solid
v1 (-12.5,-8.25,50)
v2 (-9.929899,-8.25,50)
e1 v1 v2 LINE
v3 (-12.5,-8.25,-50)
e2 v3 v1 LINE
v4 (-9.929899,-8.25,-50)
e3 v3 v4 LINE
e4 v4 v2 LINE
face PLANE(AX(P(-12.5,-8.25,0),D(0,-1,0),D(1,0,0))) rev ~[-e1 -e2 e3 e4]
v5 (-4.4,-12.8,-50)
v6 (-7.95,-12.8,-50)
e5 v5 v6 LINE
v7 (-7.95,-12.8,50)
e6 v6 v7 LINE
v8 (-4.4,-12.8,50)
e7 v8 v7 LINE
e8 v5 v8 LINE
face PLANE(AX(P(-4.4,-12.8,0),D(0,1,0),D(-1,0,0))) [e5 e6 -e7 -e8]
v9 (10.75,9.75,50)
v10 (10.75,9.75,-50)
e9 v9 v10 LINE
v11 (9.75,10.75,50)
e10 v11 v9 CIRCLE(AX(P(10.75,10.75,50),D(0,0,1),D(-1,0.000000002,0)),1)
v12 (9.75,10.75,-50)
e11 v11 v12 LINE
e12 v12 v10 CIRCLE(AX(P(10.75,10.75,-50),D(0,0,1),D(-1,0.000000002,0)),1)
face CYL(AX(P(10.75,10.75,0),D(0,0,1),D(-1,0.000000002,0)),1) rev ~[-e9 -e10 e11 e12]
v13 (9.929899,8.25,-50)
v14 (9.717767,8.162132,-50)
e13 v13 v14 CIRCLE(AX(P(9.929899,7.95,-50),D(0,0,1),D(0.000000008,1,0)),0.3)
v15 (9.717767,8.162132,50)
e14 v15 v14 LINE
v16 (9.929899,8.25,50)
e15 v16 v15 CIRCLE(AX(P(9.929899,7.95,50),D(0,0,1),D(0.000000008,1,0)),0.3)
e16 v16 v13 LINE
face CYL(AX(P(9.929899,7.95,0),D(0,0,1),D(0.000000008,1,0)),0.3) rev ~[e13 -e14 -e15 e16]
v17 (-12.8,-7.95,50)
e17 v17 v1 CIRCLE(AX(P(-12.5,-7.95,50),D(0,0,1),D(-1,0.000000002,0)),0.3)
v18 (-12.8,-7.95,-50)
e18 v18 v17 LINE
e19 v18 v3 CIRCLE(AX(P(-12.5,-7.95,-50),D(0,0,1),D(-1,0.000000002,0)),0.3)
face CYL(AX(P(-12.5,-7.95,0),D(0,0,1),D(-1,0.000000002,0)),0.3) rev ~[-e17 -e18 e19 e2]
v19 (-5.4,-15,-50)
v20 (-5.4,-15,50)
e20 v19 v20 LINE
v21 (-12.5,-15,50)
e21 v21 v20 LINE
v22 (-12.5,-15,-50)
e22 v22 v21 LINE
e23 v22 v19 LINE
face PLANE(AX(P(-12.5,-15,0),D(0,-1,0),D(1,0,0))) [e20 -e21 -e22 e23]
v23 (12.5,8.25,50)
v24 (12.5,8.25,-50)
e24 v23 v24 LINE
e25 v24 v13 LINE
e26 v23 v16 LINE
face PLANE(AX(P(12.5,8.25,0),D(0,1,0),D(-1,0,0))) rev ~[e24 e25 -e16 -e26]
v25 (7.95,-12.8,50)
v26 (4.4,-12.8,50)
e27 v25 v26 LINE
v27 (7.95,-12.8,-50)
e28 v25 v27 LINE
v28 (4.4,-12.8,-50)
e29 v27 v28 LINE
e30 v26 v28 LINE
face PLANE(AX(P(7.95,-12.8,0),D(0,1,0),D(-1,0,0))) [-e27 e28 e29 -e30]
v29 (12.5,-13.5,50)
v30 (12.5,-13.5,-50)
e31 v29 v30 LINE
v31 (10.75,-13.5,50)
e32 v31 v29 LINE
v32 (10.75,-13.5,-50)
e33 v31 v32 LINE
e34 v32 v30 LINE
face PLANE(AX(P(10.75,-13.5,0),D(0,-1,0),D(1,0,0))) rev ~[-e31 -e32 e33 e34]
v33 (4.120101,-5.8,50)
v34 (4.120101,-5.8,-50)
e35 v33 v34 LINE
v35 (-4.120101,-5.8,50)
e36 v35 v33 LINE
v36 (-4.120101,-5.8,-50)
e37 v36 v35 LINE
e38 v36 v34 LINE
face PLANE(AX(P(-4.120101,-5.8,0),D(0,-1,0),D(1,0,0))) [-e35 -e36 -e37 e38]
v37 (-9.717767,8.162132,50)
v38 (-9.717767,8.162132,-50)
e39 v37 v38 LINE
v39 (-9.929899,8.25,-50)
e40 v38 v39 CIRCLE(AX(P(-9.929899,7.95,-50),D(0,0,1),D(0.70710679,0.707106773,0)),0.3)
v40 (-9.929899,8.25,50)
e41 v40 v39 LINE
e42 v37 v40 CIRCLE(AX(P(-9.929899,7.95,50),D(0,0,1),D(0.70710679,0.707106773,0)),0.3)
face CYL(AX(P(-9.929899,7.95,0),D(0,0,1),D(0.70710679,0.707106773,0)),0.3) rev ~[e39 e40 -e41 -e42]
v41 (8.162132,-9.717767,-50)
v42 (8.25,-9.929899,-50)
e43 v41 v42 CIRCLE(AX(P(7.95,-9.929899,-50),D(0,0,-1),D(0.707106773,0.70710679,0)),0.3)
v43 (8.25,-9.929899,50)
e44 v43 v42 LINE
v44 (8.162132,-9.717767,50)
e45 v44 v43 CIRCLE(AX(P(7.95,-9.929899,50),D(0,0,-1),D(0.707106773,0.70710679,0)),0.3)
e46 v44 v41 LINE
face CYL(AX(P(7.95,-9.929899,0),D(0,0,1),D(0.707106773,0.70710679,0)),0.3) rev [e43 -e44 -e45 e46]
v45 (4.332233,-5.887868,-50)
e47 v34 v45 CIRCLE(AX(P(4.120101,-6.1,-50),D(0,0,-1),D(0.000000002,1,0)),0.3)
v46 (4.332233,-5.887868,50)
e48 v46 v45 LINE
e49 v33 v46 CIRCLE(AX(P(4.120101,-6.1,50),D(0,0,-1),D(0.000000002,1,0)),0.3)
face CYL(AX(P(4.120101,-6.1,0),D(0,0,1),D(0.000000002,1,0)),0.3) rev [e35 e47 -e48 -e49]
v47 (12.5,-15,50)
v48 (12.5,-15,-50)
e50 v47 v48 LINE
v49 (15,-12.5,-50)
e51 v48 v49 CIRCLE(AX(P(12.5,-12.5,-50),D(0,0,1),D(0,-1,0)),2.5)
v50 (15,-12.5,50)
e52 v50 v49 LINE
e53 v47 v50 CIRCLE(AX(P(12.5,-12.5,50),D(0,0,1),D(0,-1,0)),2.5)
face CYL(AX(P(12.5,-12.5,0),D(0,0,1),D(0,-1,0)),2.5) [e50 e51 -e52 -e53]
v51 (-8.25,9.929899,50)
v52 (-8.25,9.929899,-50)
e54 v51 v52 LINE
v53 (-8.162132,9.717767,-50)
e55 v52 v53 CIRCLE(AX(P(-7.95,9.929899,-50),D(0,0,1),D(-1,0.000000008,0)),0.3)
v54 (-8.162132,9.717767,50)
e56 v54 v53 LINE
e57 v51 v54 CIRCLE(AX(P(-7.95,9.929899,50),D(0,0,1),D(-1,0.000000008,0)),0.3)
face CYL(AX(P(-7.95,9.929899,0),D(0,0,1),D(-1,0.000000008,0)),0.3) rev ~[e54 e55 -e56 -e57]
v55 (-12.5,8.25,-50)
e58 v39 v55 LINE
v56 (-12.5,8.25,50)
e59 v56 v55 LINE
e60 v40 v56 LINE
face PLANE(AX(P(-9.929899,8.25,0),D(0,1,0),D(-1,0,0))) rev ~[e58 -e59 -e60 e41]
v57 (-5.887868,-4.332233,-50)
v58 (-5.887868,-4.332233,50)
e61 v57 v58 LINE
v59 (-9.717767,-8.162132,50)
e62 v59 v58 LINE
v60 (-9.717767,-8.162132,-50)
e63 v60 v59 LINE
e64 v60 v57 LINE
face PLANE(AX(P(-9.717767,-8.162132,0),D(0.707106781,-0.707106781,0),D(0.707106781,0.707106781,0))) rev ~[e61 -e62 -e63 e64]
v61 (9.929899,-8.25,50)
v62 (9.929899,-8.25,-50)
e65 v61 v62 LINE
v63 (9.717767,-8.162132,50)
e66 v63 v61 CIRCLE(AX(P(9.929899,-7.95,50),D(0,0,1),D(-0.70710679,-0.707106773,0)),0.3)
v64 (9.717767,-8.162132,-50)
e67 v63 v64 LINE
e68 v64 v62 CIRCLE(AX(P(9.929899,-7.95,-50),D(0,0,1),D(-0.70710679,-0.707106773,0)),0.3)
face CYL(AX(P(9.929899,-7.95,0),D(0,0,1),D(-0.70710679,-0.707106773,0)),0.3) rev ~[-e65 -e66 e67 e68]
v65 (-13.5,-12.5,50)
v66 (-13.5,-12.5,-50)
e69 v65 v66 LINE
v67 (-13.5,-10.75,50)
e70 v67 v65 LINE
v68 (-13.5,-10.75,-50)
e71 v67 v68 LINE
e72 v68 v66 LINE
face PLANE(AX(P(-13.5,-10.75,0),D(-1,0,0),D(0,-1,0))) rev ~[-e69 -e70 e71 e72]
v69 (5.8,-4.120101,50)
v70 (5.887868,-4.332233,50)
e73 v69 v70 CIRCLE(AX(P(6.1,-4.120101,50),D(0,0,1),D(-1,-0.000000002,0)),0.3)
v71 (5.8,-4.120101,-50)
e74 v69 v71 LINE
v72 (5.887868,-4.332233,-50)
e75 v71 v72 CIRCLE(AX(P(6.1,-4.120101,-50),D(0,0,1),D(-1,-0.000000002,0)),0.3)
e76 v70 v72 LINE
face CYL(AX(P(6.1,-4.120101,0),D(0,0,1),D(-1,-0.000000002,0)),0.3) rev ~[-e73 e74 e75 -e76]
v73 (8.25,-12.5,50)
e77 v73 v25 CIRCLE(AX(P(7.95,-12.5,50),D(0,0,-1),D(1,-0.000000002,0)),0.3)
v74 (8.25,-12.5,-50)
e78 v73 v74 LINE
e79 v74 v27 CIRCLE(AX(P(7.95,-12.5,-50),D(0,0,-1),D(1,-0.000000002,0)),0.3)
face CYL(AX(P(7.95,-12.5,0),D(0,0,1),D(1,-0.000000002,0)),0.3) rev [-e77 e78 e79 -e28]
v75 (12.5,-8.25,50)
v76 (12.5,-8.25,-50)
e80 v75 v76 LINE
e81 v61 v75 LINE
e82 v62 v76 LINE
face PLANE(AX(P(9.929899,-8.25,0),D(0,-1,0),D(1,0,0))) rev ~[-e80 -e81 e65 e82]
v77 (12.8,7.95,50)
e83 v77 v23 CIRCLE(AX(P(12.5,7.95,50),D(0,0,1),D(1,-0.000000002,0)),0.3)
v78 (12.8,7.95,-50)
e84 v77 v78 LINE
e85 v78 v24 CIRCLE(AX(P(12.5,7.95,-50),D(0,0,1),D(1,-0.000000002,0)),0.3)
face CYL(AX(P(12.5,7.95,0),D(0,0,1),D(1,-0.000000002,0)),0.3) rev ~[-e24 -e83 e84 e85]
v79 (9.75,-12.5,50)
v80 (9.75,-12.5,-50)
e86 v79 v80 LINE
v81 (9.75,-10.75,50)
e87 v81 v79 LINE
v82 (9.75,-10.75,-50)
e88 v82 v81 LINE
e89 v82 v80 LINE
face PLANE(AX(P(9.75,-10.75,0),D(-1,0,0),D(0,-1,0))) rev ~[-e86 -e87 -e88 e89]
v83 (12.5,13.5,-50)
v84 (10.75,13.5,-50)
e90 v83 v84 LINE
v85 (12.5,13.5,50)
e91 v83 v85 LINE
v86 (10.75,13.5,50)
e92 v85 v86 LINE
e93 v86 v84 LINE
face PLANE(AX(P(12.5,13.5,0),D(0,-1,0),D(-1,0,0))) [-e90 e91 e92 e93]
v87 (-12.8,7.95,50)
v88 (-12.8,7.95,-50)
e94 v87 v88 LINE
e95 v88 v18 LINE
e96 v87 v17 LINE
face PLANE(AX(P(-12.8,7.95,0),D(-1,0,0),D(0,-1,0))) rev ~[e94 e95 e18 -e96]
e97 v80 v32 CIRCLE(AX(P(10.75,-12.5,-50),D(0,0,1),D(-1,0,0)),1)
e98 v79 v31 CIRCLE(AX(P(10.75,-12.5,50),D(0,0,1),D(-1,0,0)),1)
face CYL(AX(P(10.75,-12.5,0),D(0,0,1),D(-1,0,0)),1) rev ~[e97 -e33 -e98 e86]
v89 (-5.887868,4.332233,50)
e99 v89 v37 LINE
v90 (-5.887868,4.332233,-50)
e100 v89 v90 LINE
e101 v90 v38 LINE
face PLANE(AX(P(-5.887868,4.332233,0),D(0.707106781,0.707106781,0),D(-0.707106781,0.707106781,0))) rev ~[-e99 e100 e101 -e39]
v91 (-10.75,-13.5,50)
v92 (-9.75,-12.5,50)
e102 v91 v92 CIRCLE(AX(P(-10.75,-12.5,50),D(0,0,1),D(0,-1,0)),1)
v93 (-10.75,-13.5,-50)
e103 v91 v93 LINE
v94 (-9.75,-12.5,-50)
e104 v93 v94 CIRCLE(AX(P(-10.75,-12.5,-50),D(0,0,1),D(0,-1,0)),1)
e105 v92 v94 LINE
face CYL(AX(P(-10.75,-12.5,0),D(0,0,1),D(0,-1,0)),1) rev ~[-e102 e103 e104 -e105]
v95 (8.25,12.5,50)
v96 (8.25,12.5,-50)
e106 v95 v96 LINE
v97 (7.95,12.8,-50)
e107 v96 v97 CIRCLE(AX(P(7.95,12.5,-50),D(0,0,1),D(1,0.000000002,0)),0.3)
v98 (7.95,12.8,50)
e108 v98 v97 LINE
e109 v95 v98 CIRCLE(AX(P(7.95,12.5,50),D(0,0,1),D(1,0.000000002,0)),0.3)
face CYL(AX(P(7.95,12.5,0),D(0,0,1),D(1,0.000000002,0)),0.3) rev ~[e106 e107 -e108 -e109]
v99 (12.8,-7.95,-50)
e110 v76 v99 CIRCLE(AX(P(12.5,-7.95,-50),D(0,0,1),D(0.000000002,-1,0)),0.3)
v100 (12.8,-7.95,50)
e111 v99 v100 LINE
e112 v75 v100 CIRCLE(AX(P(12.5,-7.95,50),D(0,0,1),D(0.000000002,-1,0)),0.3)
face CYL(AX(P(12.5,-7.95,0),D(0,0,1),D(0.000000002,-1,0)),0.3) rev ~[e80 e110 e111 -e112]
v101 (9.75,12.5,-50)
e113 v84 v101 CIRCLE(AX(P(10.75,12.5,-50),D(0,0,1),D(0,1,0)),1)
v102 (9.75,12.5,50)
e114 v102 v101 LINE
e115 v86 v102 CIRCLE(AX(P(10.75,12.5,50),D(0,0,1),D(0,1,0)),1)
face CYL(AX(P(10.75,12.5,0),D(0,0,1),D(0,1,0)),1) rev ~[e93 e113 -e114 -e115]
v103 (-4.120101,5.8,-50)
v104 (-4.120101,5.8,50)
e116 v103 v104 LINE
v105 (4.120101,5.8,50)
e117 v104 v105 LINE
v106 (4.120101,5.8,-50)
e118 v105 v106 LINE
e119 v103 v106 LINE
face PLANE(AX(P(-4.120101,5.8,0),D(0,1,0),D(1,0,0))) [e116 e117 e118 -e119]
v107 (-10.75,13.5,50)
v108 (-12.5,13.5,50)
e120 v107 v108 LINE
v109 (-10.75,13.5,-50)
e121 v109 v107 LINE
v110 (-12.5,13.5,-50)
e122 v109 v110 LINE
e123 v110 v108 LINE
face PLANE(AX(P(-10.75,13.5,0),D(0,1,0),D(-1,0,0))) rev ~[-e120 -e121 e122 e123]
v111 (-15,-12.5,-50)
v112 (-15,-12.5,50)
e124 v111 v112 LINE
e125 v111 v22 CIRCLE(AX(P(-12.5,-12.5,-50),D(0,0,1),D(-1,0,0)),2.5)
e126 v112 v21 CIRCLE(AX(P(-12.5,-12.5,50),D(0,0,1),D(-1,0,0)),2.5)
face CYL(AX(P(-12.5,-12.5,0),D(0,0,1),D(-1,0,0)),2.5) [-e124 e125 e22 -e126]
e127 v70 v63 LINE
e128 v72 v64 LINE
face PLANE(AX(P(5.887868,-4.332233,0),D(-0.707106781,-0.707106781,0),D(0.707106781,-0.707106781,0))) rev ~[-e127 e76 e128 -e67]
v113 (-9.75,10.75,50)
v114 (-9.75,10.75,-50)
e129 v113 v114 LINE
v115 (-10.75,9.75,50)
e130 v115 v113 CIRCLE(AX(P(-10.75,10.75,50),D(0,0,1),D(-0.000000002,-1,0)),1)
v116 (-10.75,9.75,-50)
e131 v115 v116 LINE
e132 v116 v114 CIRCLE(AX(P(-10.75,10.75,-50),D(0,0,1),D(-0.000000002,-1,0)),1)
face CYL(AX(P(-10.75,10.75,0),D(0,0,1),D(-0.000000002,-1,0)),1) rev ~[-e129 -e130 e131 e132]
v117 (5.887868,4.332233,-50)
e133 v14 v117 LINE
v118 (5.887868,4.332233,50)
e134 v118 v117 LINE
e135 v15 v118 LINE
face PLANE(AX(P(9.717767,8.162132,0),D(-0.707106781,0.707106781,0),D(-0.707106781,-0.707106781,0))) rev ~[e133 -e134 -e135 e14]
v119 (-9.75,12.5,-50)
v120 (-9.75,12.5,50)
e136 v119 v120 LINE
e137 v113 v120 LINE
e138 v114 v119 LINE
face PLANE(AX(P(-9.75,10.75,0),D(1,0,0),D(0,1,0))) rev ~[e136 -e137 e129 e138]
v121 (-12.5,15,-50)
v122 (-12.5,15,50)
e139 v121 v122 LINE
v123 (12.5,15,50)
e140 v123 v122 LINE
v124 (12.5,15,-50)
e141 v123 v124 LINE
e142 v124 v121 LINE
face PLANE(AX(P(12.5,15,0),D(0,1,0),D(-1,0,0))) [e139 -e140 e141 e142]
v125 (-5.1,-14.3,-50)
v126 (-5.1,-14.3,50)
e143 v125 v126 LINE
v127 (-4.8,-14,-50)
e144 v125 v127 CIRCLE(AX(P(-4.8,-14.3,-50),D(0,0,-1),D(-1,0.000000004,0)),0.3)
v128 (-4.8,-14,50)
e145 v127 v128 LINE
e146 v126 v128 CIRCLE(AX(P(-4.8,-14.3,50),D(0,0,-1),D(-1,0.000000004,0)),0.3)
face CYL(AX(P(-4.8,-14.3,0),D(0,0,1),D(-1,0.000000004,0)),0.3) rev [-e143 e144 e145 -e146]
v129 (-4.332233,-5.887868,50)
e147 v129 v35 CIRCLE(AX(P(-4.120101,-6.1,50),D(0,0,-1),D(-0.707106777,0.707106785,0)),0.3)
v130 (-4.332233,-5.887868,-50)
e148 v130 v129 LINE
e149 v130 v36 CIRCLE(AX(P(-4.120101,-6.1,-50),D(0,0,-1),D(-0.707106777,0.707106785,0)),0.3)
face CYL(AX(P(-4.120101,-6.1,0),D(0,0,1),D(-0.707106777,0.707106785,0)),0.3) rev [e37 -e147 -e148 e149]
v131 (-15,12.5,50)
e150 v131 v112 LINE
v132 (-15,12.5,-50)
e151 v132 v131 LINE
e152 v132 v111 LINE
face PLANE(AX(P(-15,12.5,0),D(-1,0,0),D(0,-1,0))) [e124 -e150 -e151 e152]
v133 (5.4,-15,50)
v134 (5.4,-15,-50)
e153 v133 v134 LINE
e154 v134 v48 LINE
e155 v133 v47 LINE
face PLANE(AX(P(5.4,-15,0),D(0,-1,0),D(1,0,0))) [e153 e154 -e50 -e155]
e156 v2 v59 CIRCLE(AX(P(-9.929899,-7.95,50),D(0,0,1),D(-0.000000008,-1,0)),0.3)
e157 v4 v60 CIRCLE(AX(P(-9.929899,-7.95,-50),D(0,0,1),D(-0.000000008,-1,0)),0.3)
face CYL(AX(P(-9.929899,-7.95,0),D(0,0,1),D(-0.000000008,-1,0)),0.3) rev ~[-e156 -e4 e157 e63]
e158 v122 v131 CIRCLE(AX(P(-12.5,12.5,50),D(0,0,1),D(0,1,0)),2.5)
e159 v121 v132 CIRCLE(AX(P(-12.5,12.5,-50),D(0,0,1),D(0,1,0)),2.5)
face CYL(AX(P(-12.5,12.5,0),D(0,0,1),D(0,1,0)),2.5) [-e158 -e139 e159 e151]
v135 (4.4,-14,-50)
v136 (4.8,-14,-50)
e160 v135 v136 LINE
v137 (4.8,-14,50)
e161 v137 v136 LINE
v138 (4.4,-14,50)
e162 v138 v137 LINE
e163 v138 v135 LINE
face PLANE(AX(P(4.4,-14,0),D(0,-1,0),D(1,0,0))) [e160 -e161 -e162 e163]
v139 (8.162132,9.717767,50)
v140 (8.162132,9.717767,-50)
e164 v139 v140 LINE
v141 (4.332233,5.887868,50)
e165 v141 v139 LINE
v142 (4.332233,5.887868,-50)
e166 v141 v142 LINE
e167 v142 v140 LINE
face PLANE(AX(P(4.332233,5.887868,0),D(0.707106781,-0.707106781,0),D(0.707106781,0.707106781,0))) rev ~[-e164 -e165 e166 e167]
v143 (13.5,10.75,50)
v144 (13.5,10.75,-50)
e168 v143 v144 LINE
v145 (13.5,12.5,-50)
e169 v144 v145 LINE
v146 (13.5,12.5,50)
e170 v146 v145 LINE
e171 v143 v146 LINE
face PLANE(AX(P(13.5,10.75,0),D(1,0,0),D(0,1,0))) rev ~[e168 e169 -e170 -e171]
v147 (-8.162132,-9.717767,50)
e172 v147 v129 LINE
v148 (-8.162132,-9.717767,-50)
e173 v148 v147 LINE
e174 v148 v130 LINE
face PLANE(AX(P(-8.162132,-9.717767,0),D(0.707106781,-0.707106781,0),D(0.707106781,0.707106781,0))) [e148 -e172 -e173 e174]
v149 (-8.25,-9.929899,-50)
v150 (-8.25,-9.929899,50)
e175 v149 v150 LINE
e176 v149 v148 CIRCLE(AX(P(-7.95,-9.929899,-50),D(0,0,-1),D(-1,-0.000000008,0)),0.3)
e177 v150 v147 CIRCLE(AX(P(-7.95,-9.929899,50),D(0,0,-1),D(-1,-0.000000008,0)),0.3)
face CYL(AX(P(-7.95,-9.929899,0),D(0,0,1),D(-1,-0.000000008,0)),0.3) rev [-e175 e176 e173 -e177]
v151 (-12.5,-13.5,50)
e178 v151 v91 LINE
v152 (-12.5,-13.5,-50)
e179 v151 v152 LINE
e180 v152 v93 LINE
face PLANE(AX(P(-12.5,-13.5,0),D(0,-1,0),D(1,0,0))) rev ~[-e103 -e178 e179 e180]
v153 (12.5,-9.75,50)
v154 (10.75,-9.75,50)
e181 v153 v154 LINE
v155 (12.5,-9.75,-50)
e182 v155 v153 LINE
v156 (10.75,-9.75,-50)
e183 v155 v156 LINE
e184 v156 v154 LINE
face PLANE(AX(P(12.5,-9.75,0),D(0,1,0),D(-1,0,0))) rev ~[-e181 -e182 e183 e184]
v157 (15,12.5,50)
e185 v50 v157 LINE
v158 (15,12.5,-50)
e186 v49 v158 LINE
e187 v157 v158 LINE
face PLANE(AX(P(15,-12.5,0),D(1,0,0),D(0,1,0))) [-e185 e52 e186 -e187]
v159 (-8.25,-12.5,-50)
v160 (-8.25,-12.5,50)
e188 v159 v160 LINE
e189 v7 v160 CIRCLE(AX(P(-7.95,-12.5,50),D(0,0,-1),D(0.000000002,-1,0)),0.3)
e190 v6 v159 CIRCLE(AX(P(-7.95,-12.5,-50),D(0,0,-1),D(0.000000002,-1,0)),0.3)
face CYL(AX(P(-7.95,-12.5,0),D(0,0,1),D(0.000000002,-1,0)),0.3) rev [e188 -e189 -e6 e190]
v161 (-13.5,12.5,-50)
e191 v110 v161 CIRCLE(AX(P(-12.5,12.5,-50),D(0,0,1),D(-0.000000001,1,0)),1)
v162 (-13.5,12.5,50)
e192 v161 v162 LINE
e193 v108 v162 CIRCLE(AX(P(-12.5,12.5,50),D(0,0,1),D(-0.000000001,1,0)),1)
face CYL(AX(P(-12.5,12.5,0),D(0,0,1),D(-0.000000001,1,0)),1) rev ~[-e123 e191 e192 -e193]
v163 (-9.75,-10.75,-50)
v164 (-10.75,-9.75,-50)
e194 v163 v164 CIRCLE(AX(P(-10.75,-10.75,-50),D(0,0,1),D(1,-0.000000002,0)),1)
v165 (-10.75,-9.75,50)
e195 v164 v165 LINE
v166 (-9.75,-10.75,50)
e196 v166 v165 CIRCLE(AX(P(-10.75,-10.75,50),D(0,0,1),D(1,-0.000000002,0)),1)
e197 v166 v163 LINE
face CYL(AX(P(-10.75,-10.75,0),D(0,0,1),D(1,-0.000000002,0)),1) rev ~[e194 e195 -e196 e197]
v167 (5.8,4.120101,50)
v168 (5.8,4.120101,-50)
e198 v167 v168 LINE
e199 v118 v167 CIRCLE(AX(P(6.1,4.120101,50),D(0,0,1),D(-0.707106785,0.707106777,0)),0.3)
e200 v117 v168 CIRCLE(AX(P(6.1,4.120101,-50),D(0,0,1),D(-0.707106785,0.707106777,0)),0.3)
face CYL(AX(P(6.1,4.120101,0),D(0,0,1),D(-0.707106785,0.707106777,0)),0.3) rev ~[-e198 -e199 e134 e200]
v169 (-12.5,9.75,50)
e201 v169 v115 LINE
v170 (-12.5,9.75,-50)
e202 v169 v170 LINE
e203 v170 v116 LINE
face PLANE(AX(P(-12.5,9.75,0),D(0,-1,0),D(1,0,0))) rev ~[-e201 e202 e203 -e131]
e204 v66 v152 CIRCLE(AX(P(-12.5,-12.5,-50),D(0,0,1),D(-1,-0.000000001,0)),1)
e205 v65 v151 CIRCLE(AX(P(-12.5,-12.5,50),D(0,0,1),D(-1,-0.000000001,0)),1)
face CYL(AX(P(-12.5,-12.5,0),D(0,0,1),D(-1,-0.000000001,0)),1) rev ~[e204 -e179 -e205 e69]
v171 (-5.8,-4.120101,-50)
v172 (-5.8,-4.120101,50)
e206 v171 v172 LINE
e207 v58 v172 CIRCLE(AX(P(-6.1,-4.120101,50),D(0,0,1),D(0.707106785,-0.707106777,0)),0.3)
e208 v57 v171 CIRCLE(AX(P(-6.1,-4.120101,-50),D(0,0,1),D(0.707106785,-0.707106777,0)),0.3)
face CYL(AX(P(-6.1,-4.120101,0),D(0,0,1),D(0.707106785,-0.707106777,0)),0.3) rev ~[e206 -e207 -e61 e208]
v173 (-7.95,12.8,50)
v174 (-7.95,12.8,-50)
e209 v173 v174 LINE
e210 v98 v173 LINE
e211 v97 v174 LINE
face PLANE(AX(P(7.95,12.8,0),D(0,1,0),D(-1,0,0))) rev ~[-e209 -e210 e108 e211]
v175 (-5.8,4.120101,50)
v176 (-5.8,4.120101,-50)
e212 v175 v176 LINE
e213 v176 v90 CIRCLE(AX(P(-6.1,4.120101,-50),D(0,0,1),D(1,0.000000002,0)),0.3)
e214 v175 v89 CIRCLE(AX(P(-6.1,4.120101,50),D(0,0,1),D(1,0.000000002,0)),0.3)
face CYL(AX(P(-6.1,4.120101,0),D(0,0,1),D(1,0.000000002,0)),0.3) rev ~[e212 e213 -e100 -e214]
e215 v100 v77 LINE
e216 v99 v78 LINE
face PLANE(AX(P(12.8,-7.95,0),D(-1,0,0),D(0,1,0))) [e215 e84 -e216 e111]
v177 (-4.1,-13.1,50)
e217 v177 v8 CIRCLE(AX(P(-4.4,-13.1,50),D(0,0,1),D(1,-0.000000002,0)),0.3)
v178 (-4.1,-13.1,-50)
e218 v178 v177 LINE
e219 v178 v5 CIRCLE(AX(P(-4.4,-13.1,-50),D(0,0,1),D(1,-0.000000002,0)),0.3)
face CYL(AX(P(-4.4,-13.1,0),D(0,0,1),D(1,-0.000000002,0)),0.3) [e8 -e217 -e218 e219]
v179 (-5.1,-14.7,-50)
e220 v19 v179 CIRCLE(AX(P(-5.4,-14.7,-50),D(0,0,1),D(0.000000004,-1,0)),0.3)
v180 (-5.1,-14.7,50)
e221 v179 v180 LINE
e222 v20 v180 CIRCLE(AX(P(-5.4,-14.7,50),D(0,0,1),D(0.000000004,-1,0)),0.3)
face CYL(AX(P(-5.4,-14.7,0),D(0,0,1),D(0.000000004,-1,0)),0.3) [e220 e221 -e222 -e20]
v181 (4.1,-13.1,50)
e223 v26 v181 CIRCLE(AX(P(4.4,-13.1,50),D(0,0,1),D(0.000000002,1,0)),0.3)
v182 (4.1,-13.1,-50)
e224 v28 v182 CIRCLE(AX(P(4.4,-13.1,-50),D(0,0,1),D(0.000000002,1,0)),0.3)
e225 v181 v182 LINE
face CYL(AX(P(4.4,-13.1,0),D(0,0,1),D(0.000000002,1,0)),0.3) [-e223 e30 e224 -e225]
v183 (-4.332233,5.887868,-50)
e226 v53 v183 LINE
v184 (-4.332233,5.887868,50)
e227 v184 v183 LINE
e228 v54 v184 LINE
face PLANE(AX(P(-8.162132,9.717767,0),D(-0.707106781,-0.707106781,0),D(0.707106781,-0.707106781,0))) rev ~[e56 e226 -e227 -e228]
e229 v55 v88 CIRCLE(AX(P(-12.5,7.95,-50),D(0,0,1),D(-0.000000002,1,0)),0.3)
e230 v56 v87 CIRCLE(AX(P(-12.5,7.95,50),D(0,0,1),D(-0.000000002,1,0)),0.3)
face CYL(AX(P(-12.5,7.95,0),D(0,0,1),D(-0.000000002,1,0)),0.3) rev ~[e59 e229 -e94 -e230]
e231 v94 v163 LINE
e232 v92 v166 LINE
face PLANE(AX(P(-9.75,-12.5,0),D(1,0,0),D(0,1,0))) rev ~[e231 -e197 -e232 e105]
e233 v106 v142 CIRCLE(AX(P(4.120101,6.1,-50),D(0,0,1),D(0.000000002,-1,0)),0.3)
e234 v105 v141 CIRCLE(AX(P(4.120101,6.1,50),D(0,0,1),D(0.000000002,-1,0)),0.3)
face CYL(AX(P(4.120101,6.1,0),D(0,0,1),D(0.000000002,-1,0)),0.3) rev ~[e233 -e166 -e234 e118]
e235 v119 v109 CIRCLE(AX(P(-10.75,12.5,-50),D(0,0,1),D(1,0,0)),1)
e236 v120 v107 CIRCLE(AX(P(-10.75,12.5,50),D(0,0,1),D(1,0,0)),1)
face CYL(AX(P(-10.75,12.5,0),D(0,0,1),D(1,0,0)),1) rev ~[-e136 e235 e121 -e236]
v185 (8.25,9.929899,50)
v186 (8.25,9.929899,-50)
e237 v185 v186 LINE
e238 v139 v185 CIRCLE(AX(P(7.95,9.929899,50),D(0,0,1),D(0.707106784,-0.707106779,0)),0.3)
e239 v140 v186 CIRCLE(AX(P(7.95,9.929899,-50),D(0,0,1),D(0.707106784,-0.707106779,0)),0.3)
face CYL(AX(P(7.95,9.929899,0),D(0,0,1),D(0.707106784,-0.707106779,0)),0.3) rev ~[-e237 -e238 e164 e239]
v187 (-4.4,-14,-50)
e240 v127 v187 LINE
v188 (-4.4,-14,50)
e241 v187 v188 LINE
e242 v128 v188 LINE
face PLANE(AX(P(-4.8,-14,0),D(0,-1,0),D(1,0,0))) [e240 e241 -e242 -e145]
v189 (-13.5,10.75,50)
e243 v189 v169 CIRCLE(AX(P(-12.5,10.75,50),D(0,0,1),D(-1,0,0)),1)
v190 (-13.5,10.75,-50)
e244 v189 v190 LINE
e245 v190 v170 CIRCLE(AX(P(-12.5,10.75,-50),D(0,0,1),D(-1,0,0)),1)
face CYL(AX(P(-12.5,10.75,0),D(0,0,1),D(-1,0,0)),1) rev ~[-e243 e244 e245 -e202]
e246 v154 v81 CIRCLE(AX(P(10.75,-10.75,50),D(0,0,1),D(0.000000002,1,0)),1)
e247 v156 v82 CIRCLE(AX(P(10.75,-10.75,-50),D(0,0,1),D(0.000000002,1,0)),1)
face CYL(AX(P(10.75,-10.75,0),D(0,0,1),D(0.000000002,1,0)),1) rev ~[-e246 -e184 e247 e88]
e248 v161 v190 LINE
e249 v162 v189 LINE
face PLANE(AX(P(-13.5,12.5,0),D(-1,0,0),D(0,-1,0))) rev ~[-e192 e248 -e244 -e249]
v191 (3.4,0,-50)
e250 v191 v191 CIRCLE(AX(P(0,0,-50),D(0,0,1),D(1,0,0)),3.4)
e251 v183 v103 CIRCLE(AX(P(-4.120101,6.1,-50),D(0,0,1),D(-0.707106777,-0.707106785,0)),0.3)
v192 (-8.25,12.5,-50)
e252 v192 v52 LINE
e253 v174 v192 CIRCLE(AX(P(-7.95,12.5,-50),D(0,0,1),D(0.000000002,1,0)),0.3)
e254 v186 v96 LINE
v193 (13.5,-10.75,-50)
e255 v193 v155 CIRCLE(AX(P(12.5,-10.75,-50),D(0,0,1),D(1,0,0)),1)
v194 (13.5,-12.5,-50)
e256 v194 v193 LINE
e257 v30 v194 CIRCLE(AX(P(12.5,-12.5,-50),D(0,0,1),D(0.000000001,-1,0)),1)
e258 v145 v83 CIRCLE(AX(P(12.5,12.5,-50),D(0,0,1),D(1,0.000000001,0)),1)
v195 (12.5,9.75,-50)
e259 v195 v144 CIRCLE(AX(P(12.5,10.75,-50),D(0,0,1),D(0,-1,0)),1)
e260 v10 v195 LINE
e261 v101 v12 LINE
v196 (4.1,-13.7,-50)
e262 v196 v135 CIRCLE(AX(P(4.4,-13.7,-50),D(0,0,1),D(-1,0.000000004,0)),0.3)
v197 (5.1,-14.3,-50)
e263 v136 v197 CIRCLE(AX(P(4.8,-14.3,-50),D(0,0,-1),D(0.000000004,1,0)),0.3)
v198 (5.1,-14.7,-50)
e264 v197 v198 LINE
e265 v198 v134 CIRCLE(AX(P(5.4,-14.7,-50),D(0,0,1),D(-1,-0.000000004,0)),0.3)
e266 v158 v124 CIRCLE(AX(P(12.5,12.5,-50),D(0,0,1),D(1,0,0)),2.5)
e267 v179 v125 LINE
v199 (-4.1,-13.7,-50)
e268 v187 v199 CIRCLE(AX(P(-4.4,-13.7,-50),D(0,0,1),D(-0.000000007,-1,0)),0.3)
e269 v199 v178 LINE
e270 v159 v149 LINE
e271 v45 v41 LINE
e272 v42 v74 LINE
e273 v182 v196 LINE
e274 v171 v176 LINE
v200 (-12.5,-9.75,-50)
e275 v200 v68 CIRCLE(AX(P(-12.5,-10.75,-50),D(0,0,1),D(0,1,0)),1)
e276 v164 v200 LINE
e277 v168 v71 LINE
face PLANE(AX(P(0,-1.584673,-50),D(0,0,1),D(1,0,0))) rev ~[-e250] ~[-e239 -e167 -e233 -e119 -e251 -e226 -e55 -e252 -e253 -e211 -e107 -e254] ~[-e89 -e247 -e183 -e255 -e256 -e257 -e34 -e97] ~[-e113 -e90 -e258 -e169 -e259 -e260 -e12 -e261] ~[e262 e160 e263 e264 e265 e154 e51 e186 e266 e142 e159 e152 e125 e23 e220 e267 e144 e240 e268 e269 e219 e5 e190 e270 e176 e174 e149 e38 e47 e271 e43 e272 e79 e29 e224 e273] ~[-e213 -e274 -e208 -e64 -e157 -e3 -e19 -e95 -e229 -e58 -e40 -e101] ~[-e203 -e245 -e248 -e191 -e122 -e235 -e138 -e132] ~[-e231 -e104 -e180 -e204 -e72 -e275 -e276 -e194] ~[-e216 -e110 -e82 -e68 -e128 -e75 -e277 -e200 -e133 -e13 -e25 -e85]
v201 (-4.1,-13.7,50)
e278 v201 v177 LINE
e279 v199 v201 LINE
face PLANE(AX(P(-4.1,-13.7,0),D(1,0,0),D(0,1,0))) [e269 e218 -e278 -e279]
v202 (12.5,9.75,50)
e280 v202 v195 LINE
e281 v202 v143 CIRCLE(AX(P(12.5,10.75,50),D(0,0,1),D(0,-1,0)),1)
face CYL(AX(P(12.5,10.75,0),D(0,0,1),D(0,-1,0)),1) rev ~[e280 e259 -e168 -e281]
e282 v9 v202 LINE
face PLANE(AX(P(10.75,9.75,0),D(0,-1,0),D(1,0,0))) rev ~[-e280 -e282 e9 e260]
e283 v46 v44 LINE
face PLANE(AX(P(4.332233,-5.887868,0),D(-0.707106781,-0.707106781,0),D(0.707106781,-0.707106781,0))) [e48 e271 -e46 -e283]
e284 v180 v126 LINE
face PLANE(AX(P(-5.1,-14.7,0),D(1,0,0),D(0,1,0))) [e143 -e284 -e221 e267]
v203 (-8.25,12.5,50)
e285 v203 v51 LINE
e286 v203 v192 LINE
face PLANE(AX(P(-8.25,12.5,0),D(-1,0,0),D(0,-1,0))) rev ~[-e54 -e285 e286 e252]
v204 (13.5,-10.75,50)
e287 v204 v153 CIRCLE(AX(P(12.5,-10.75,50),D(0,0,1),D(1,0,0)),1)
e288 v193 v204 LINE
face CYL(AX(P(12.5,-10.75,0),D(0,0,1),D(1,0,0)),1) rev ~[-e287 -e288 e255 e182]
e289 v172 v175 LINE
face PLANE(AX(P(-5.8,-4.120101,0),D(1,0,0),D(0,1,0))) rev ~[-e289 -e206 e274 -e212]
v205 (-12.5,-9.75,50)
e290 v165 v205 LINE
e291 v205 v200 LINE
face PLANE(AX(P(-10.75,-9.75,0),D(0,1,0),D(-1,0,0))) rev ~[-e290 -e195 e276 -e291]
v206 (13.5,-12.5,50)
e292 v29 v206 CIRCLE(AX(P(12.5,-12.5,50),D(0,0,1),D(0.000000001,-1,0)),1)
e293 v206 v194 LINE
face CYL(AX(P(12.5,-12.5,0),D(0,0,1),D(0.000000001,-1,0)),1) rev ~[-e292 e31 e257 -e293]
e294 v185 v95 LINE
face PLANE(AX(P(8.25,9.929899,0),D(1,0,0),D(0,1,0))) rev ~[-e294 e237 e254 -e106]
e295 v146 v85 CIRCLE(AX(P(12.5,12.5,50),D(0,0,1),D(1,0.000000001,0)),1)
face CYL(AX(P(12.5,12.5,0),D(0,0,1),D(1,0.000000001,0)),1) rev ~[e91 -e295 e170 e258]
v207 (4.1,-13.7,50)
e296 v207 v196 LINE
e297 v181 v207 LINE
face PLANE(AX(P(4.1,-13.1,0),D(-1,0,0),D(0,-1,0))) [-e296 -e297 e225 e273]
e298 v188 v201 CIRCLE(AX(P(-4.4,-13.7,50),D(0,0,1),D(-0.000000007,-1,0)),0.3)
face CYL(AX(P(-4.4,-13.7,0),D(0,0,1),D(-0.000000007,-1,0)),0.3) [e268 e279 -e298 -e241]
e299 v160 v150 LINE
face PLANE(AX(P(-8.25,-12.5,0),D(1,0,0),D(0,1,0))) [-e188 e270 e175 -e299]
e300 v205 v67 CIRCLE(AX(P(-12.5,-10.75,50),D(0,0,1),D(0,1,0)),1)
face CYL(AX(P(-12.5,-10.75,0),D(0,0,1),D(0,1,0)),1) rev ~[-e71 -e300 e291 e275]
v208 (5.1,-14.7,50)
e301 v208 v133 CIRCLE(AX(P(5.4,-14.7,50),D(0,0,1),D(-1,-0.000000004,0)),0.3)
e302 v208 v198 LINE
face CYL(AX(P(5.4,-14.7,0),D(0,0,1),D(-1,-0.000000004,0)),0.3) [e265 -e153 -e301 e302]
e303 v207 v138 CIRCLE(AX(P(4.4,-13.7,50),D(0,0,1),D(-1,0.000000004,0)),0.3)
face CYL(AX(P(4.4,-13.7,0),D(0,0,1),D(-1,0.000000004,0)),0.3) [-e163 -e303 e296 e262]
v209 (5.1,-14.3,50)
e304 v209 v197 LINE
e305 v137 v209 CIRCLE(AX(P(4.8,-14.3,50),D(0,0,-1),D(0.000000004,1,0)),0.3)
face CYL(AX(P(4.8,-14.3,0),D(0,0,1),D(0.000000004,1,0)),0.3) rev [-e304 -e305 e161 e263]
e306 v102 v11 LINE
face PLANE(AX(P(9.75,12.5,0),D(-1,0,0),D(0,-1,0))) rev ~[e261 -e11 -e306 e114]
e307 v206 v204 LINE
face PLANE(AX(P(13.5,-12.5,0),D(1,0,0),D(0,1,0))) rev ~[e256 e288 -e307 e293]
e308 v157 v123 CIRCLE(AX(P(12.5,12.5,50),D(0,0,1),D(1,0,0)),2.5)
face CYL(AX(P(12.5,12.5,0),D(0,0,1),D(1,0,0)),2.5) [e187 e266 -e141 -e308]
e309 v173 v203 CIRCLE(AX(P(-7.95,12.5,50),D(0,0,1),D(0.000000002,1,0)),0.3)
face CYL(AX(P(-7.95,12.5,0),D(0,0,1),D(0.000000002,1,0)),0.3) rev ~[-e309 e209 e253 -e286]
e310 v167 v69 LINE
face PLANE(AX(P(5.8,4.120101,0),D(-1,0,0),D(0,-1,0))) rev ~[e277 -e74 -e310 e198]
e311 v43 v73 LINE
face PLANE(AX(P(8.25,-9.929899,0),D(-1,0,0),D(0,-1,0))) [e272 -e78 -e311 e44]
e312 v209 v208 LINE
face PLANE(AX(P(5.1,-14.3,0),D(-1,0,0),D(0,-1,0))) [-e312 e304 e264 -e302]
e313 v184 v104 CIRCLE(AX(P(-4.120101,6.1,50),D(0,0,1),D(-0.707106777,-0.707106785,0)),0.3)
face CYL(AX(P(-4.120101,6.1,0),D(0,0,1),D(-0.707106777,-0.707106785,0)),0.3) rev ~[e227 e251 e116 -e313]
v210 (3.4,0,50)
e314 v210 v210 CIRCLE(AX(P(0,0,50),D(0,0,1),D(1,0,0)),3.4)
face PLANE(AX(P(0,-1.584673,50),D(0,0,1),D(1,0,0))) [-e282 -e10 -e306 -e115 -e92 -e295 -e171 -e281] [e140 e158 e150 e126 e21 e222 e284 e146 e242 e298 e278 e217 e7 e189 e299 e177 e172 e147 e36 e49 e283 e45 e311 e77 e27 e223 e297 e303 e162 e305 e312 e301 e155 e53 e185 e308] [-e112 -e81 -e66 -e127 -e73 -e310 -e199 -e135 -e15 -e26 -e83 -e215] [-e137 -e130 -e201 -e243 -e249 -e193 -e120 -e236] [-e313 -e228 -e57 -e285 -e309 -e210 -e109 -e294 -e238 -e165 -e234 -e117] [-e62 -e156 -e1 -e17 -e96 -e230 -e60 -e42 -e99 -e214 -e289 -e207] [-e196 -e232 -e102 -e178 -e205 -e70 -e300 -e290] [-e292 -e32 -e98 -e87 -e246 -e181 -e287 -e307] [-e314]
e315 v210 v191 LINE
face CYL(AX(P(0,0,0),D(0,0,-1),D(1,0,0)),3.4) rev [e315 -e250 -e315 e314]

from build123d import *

# Parameters (mm, degrees)
SKETCH_1_R      = 3.399999997
EXTRUDE_1_DEPTH = 50


with BuildPart() as part:
    # 草图1 → 凸台-拉伸1 (new, symmetric)
    with BuildSketch(Plane.XY):
        with BuildLine():
            Line((12.49999999, 14.999999989), (-12.49999999, 14.999999989))
            ThreePointArc((-12.49999999, 14.999999989), (-14.267766942, 14.267766942), (-14.999999989, 12.49999999))
            Line((-14.999999989, 12.49999999), (-14.999999989, -12.49999999))
            ThreePointArc((-14.999999989, -12.49999999), (-14.267766942, -14.267766942), (-12.49999999, -14.999999989))
            Line((-12.49999999, -14.999999989), (-5.399999996, -14.999999989))
            ThreePointArc((-5.399999996, -14.999999989), (-5.187867962, -14.912132023), (-5.099999996, -14.699999989))
            Line((-5.099999996, -14.699999989), (-5.099999996, -14.299999989))
            ThreePointArc((-5.099999996, -14.299999989), (-5.01213203, -14.087867955), (-4.799999996, -13.999999989))
            Line((-4.799999996, -13.999999989), (-4.399999997, -13.999999989))
            ThreePointArc((-4.399999997, -13.999999989), (-4.187867962, -13.912132024), (-4.099999997, -13.69999999))
            Line((-4.099999997, -13.69999999), (-4.099999997, -13.09999999))
            ThreePointArc((-4.099999997, -13.09999999), (-4.187867962, -12.887867956), (-4.399999997, -12.79999999))
            Line((-4.399999997, -12.79999999), (-7.949999994, -12.79999999))
            ThreePointArc((-7.949999994, -12.79999999), (-8.162132028, -12.712132025), (-8.249999994, -12.499999991))
            Line((-8.249999994, -12.499999991), (-8.249999994, -9.92989898))
            ThreePointArc((-8.249999994, -9.92989898), (-8.227163854, -9.81509395), (-8.162132028, -9.717766946))
            Line((-8.162132028, -9.717766946), (-4.332233044, -5.887867961))
            ThreePointArc((-4.332233044, -5.887867961), (-4.234906039, -5.822836136), (-4.12010101, -5.799999996))
            Line((-4.12010101, -5.799999996), (4.12010101, -5.799999996))
            ThreePointArc((4.12010101, -5.799999996), (4.234906039, -5.822836136), (4.332233044, -5.887867961))
            Line((4.332233044, -5.887867961), (8.162132028, -9.717766946))
            ThreePointArc((8.162132028, -9.717766946), (8.227163854, -9.81509395), (8.249999994, -9.92989898))
            Line((8.249999994, -9.92989898), (8.249999994, -12.499999991))
            ThreePointArc((8.249999994, -12.499999991), (8.162132028, -12.712132025), (7.949999994, -12.79999999))
            Line((7.949999994, -12.79999999), (4.399999997, -12.79999999))
            ThreePointArc((4.399999997, -12.79999999), (4.187867962, -12.887867956), (4.099999997, -13.09999999))
            Line((4.099999997, -13.09999999), (4.099999997, -13.69999999))
            ThreePointArc((4.099999997, -13.69999999), (4.187867962, -13.912132024), (4.399999997, -13.999999989))
            Line((4.399999997, -13.999999989), (4.799999996, -13.999999989))
            ThreePointArc((4.799999996, -13.999999989), (5.01213203, -14.087867955), (5.099999996, -14.299999989))
            Line((5.099999996, -14.299999989), (5.099999996, -14.699999989))
            ThreePointArc((5.099999996, -14.699999989), (5.187867962, -14.912132023), (5.399999996, -14.999999989))
            Line((5.399999996, -14.999999989), (12.49999999, -14.999999989))
            ThreePointArc((12.49999999, -14.999999989), (14.267766942, -14.267766942), (14.999999989, -12.49999999))
            Line((14.999999989, -12.49999999), (14.999999989, 12.49999999))
            ThreePointArc((14.999999989, 12.49999999), (14.267766942, 14.267766942), (12.49999999, 14.999999989))
        make_face()
        Circle(SKETCH_1_R, mode=Mode.SUBTRACT)
        with BuildLine():
            Line((7.949999994, 12.79999999), (-7.949999994, 12.79999999))
            ThreePointArc((-7.949999994, 12.79999999), (-8.162132028, 12.712132025), (-8.249999994, 12.499999991))
            Line((-8.249999994, 12.499999991), (-8.249999994, 9.92989898))
            ThreePointArc((-8.249999994, 9.92989898), (-8.227163854, 9.81509395), (-8.162132028, 9.717766946))
            Line((-8.162132028, 9.717766946), (-4.332233044, 5.887867961))
            ThreePointArc((-4.332233044, 5.887867961), (-4.234906039, 5.822836136), (-4.12010101, 5.799999996))
            Line((-4.12010101, 5.799999996), (4.12010101, 5.799999996))
            ThreePointArc((4.12010101, 5.799999996), (4.234906039, 5.822836136), (4.332233044, 5.887867961))
            Line((4.332233044, 5.887867961), (8.162132028, 9.717766946))
            ThreePointArc((8.162132028, 9.717766946), (8.227163853, 9.81509395), (8.249999994, 9.92989898))
            Line((8.249999994, 9.92989898), (8.249999994, 12.499999991))
            ThreePointArc((8.249999994, 12.499999991), (8.162132028, 12.712132025), (7.949999994, 12.79999999))
        make_face(mode=Mode.SUBTRACT)
        with BuildLine():
            Line((10.749999992, 9.749999993), (12.499999991, 9.749999993))
            ThreePointArc((12.499999991, 9.749999993), (13.207106771, 10.042893211), (13.49999999, 10.749999992))
            Line((13.49999999, 10.749999992), (13.49999999, 12.49999999))
            ThreePointArc((13.49999999, 12.49999999), (13.207106771, 13.207106771), (12.49999999, 13.49999999))
            Line((12.49999999, 13.49999999), (10.749999992, 13.49999999))
            ThreePointArc((10.749999992, 13.49999999), (10.042893211, 13.207106771), (9.749999993, 12.499999991))
            Line((9.749999993, 12.499999991), (9.749999993, 10.749999992))
            ThreePointArc((9.749999993, 10.749999992), (10.042893211, 10.042893211), (10.749999992, 9.749999993))
        make_face(mode=Mode.SUBTRACT)
        with BuildLine():
            Line((-13.49999999, 12.49999999), (-13.49999999, 10.749999992))
            ThreePointArc((-13.49999999, 10.749999992), (-13.207106771, 10.042893211), (-12.499999991, 9.749999993))
            Line((-12.499999991, 9.749999993), (-10.749999992, 9.749999993))
            ThreePointArc((-10.749999992, 9.749999993), (-10.042893211, 10.042893211), (-9.749999993, 10.749999992))
            Line((-9.749999993, 10.749999992), (-9.749999993, 12.499999991))
            ThreePointArc((-9.749999993, 12.499999991), (-10.042893211, 13.207106771), (-10.749999992, 13.49999999))
            Line((-10.749999992, 13.49999999), (-12.49999999, 13.49999999))
            ThreePointArc((-12.49999999, 13.49999999), (-13.207106771, 13.207106771), (-13.49999999, 12.49999999))
        make_face(mode=Mode.SUBTRACT)
        with BuildLine():
            Line((9.749999993, -10.749999992), (9.749999993, -12.499999991))
            ThreePointArc((9.749999993, -12.499999991), (10.042893211, -13.207106771), (10.749999992, -13.49999999))
            Line((10.749999992, -13.49999999), (12.49999999, -13.49999999))
            ThreePointArc((12.49999999, -13.49999999), (13.207106771, -13.207106771), (13.49999999, -12.49999999))
            Line((13.49999999, -12.49999999), (13.49999999, -10.749999992))
            ThreePointArc((13.49999999, -10.749999992), (13.207106771, -10.042893211), (12.499999991, -9.749999993))
            Line((12.499999991, -9.749999993), (10.749999992, -9.749999993))
            ThreePointArc((10.749999992, -9.749999993), (10.042893211, -10.042893211), (9.749999993, -10.749999992))
        make_face(mode=Mode.SUBTRACT)
        with BuildLine():
            Line((-5.799999996, -4.12010101), (-5.799999996, 4.12010101))
            ThreePointArc((-5.799999996, 4.12010101), (-5.822836136, 4.234906039), (-5.887867961, 4.332233044))
            Line((-5.887867961, 4.332233044), (-9.717766946, 8.162132028))
            ThreePointArc((-9.717766946, 8.162132028), (-9.81509395, 8.227163854), (-9.92989898, 8.249999994))
            Line((-9.92989898, 8.249999994), (-12.499999991, 8.249999994))
            ThreePointArc((-12.499999991, 8.249999994), (-12.712132025, 8.162132028), (-12.79999999, 7.949999994))
            Line((-12.79999999, 7.949999994), (-12.79999999, -7.949999994))
            ThreePointArc((-12.79999999, -7.949999994), (-12.712132025, -8.162132028), (-12.499999991, -8.249999994))
            Line((-12.499999991, -8.249999994), (-9.92989898, -8.249999994))
            ThreePointArc((-9.92989898, -8.249999994), (-9.81509395, -8.227163854), (-9.717766946, -8.162132028))
            Line((-9.717766946, -8.162132028), (-5.887867961, -4.332233044))
            ThreePointArc((-5.887867961, -4.332233044), (-5.822836136, -4.234906039), (-5.799999996, -4.12010101))
        make_face(mode=Mode.SUBTRACT)
        with BuildLine():
            Line((5.799999996, 4.12010101), (5.799999996, -4.12010101))
            ThreePointArc((5.799999996, -4.12010101), (5.822836136, -4.234906039), (5.887867961, -4.332233044))
            Line((5.887867961, -4.332233044), (9.717766946, -8.162132028))
            ThreePointArc((9.717766946, -8.162132028), (9.81509395, -8.227163854), (9.92989898, -8.249999994))
            Line((9.92989898, -8.249999994), (12.499999991, -8.249999994))
            ThreePointArc((12.499999991, -8.249999994), (12.712132025, -8.162132028), (12.79999999, -7.949999994))
            Line((12.79999999, -7.949999994), (12.79999999, 7.949999994))
            ThreePointArc((12.79999999, 7.949999994), (12.712132025, 8.162132028), (12.499999991, 8.249999994))
            Line((12.499999991, 8.249999994), (9.92989898, 8.249999994))
            ThreePointArc((9.92989898, 8.249999994), (9.81509395, 8.227163854), (9.717766946, 8.162132028))
            Line((9.717766946, 8.162132028), (5.887867961, 4.332233044))
            ThreePointArc((5.887867961, 4.332233044), (5.822836136, 4.234906039), (5.799999996, 4.12010101))
        make_face(mode=Mode.SUBTRACT)
        with BuildLine():
            Line((-10.749999992, -9.749999993), (-12.499999991, -9.749999993))
            ThreePointArc((-12.499999991, -9.749999993), (-13.207106771, -10.042893211), (-13.49999999, -10.749999992))
            Line((-13.49999999, -10.749999992), (-13.49999999, -12.49999999))
            ThreePointArc((-13.49999999, -12.49999999), (-13.207106771, -13.207106771), (-12.49999999, -13.49999999))
            Line((-12.49999999, -13.49999999), (-10.749999992, -13.49999999))
            ThreePointArc((-10.749999992, -13.49999999), (-10.042893211, -13.207106771), (-9.749999993, -12.499999991))
            Line((-9.749999993, -12.499999991), (-9.749999993, -10.749999992))
            ThreePointArc((-9.749999993, -10.749999992), (-10.042893211, -10.042893211), (-10.749999992, -9.749999993))
        make_face(mode=Mode.SUBTRACT)
    extrude(amount=EXTRUDE_1_DEPTH, both=True)


solid = part.part
